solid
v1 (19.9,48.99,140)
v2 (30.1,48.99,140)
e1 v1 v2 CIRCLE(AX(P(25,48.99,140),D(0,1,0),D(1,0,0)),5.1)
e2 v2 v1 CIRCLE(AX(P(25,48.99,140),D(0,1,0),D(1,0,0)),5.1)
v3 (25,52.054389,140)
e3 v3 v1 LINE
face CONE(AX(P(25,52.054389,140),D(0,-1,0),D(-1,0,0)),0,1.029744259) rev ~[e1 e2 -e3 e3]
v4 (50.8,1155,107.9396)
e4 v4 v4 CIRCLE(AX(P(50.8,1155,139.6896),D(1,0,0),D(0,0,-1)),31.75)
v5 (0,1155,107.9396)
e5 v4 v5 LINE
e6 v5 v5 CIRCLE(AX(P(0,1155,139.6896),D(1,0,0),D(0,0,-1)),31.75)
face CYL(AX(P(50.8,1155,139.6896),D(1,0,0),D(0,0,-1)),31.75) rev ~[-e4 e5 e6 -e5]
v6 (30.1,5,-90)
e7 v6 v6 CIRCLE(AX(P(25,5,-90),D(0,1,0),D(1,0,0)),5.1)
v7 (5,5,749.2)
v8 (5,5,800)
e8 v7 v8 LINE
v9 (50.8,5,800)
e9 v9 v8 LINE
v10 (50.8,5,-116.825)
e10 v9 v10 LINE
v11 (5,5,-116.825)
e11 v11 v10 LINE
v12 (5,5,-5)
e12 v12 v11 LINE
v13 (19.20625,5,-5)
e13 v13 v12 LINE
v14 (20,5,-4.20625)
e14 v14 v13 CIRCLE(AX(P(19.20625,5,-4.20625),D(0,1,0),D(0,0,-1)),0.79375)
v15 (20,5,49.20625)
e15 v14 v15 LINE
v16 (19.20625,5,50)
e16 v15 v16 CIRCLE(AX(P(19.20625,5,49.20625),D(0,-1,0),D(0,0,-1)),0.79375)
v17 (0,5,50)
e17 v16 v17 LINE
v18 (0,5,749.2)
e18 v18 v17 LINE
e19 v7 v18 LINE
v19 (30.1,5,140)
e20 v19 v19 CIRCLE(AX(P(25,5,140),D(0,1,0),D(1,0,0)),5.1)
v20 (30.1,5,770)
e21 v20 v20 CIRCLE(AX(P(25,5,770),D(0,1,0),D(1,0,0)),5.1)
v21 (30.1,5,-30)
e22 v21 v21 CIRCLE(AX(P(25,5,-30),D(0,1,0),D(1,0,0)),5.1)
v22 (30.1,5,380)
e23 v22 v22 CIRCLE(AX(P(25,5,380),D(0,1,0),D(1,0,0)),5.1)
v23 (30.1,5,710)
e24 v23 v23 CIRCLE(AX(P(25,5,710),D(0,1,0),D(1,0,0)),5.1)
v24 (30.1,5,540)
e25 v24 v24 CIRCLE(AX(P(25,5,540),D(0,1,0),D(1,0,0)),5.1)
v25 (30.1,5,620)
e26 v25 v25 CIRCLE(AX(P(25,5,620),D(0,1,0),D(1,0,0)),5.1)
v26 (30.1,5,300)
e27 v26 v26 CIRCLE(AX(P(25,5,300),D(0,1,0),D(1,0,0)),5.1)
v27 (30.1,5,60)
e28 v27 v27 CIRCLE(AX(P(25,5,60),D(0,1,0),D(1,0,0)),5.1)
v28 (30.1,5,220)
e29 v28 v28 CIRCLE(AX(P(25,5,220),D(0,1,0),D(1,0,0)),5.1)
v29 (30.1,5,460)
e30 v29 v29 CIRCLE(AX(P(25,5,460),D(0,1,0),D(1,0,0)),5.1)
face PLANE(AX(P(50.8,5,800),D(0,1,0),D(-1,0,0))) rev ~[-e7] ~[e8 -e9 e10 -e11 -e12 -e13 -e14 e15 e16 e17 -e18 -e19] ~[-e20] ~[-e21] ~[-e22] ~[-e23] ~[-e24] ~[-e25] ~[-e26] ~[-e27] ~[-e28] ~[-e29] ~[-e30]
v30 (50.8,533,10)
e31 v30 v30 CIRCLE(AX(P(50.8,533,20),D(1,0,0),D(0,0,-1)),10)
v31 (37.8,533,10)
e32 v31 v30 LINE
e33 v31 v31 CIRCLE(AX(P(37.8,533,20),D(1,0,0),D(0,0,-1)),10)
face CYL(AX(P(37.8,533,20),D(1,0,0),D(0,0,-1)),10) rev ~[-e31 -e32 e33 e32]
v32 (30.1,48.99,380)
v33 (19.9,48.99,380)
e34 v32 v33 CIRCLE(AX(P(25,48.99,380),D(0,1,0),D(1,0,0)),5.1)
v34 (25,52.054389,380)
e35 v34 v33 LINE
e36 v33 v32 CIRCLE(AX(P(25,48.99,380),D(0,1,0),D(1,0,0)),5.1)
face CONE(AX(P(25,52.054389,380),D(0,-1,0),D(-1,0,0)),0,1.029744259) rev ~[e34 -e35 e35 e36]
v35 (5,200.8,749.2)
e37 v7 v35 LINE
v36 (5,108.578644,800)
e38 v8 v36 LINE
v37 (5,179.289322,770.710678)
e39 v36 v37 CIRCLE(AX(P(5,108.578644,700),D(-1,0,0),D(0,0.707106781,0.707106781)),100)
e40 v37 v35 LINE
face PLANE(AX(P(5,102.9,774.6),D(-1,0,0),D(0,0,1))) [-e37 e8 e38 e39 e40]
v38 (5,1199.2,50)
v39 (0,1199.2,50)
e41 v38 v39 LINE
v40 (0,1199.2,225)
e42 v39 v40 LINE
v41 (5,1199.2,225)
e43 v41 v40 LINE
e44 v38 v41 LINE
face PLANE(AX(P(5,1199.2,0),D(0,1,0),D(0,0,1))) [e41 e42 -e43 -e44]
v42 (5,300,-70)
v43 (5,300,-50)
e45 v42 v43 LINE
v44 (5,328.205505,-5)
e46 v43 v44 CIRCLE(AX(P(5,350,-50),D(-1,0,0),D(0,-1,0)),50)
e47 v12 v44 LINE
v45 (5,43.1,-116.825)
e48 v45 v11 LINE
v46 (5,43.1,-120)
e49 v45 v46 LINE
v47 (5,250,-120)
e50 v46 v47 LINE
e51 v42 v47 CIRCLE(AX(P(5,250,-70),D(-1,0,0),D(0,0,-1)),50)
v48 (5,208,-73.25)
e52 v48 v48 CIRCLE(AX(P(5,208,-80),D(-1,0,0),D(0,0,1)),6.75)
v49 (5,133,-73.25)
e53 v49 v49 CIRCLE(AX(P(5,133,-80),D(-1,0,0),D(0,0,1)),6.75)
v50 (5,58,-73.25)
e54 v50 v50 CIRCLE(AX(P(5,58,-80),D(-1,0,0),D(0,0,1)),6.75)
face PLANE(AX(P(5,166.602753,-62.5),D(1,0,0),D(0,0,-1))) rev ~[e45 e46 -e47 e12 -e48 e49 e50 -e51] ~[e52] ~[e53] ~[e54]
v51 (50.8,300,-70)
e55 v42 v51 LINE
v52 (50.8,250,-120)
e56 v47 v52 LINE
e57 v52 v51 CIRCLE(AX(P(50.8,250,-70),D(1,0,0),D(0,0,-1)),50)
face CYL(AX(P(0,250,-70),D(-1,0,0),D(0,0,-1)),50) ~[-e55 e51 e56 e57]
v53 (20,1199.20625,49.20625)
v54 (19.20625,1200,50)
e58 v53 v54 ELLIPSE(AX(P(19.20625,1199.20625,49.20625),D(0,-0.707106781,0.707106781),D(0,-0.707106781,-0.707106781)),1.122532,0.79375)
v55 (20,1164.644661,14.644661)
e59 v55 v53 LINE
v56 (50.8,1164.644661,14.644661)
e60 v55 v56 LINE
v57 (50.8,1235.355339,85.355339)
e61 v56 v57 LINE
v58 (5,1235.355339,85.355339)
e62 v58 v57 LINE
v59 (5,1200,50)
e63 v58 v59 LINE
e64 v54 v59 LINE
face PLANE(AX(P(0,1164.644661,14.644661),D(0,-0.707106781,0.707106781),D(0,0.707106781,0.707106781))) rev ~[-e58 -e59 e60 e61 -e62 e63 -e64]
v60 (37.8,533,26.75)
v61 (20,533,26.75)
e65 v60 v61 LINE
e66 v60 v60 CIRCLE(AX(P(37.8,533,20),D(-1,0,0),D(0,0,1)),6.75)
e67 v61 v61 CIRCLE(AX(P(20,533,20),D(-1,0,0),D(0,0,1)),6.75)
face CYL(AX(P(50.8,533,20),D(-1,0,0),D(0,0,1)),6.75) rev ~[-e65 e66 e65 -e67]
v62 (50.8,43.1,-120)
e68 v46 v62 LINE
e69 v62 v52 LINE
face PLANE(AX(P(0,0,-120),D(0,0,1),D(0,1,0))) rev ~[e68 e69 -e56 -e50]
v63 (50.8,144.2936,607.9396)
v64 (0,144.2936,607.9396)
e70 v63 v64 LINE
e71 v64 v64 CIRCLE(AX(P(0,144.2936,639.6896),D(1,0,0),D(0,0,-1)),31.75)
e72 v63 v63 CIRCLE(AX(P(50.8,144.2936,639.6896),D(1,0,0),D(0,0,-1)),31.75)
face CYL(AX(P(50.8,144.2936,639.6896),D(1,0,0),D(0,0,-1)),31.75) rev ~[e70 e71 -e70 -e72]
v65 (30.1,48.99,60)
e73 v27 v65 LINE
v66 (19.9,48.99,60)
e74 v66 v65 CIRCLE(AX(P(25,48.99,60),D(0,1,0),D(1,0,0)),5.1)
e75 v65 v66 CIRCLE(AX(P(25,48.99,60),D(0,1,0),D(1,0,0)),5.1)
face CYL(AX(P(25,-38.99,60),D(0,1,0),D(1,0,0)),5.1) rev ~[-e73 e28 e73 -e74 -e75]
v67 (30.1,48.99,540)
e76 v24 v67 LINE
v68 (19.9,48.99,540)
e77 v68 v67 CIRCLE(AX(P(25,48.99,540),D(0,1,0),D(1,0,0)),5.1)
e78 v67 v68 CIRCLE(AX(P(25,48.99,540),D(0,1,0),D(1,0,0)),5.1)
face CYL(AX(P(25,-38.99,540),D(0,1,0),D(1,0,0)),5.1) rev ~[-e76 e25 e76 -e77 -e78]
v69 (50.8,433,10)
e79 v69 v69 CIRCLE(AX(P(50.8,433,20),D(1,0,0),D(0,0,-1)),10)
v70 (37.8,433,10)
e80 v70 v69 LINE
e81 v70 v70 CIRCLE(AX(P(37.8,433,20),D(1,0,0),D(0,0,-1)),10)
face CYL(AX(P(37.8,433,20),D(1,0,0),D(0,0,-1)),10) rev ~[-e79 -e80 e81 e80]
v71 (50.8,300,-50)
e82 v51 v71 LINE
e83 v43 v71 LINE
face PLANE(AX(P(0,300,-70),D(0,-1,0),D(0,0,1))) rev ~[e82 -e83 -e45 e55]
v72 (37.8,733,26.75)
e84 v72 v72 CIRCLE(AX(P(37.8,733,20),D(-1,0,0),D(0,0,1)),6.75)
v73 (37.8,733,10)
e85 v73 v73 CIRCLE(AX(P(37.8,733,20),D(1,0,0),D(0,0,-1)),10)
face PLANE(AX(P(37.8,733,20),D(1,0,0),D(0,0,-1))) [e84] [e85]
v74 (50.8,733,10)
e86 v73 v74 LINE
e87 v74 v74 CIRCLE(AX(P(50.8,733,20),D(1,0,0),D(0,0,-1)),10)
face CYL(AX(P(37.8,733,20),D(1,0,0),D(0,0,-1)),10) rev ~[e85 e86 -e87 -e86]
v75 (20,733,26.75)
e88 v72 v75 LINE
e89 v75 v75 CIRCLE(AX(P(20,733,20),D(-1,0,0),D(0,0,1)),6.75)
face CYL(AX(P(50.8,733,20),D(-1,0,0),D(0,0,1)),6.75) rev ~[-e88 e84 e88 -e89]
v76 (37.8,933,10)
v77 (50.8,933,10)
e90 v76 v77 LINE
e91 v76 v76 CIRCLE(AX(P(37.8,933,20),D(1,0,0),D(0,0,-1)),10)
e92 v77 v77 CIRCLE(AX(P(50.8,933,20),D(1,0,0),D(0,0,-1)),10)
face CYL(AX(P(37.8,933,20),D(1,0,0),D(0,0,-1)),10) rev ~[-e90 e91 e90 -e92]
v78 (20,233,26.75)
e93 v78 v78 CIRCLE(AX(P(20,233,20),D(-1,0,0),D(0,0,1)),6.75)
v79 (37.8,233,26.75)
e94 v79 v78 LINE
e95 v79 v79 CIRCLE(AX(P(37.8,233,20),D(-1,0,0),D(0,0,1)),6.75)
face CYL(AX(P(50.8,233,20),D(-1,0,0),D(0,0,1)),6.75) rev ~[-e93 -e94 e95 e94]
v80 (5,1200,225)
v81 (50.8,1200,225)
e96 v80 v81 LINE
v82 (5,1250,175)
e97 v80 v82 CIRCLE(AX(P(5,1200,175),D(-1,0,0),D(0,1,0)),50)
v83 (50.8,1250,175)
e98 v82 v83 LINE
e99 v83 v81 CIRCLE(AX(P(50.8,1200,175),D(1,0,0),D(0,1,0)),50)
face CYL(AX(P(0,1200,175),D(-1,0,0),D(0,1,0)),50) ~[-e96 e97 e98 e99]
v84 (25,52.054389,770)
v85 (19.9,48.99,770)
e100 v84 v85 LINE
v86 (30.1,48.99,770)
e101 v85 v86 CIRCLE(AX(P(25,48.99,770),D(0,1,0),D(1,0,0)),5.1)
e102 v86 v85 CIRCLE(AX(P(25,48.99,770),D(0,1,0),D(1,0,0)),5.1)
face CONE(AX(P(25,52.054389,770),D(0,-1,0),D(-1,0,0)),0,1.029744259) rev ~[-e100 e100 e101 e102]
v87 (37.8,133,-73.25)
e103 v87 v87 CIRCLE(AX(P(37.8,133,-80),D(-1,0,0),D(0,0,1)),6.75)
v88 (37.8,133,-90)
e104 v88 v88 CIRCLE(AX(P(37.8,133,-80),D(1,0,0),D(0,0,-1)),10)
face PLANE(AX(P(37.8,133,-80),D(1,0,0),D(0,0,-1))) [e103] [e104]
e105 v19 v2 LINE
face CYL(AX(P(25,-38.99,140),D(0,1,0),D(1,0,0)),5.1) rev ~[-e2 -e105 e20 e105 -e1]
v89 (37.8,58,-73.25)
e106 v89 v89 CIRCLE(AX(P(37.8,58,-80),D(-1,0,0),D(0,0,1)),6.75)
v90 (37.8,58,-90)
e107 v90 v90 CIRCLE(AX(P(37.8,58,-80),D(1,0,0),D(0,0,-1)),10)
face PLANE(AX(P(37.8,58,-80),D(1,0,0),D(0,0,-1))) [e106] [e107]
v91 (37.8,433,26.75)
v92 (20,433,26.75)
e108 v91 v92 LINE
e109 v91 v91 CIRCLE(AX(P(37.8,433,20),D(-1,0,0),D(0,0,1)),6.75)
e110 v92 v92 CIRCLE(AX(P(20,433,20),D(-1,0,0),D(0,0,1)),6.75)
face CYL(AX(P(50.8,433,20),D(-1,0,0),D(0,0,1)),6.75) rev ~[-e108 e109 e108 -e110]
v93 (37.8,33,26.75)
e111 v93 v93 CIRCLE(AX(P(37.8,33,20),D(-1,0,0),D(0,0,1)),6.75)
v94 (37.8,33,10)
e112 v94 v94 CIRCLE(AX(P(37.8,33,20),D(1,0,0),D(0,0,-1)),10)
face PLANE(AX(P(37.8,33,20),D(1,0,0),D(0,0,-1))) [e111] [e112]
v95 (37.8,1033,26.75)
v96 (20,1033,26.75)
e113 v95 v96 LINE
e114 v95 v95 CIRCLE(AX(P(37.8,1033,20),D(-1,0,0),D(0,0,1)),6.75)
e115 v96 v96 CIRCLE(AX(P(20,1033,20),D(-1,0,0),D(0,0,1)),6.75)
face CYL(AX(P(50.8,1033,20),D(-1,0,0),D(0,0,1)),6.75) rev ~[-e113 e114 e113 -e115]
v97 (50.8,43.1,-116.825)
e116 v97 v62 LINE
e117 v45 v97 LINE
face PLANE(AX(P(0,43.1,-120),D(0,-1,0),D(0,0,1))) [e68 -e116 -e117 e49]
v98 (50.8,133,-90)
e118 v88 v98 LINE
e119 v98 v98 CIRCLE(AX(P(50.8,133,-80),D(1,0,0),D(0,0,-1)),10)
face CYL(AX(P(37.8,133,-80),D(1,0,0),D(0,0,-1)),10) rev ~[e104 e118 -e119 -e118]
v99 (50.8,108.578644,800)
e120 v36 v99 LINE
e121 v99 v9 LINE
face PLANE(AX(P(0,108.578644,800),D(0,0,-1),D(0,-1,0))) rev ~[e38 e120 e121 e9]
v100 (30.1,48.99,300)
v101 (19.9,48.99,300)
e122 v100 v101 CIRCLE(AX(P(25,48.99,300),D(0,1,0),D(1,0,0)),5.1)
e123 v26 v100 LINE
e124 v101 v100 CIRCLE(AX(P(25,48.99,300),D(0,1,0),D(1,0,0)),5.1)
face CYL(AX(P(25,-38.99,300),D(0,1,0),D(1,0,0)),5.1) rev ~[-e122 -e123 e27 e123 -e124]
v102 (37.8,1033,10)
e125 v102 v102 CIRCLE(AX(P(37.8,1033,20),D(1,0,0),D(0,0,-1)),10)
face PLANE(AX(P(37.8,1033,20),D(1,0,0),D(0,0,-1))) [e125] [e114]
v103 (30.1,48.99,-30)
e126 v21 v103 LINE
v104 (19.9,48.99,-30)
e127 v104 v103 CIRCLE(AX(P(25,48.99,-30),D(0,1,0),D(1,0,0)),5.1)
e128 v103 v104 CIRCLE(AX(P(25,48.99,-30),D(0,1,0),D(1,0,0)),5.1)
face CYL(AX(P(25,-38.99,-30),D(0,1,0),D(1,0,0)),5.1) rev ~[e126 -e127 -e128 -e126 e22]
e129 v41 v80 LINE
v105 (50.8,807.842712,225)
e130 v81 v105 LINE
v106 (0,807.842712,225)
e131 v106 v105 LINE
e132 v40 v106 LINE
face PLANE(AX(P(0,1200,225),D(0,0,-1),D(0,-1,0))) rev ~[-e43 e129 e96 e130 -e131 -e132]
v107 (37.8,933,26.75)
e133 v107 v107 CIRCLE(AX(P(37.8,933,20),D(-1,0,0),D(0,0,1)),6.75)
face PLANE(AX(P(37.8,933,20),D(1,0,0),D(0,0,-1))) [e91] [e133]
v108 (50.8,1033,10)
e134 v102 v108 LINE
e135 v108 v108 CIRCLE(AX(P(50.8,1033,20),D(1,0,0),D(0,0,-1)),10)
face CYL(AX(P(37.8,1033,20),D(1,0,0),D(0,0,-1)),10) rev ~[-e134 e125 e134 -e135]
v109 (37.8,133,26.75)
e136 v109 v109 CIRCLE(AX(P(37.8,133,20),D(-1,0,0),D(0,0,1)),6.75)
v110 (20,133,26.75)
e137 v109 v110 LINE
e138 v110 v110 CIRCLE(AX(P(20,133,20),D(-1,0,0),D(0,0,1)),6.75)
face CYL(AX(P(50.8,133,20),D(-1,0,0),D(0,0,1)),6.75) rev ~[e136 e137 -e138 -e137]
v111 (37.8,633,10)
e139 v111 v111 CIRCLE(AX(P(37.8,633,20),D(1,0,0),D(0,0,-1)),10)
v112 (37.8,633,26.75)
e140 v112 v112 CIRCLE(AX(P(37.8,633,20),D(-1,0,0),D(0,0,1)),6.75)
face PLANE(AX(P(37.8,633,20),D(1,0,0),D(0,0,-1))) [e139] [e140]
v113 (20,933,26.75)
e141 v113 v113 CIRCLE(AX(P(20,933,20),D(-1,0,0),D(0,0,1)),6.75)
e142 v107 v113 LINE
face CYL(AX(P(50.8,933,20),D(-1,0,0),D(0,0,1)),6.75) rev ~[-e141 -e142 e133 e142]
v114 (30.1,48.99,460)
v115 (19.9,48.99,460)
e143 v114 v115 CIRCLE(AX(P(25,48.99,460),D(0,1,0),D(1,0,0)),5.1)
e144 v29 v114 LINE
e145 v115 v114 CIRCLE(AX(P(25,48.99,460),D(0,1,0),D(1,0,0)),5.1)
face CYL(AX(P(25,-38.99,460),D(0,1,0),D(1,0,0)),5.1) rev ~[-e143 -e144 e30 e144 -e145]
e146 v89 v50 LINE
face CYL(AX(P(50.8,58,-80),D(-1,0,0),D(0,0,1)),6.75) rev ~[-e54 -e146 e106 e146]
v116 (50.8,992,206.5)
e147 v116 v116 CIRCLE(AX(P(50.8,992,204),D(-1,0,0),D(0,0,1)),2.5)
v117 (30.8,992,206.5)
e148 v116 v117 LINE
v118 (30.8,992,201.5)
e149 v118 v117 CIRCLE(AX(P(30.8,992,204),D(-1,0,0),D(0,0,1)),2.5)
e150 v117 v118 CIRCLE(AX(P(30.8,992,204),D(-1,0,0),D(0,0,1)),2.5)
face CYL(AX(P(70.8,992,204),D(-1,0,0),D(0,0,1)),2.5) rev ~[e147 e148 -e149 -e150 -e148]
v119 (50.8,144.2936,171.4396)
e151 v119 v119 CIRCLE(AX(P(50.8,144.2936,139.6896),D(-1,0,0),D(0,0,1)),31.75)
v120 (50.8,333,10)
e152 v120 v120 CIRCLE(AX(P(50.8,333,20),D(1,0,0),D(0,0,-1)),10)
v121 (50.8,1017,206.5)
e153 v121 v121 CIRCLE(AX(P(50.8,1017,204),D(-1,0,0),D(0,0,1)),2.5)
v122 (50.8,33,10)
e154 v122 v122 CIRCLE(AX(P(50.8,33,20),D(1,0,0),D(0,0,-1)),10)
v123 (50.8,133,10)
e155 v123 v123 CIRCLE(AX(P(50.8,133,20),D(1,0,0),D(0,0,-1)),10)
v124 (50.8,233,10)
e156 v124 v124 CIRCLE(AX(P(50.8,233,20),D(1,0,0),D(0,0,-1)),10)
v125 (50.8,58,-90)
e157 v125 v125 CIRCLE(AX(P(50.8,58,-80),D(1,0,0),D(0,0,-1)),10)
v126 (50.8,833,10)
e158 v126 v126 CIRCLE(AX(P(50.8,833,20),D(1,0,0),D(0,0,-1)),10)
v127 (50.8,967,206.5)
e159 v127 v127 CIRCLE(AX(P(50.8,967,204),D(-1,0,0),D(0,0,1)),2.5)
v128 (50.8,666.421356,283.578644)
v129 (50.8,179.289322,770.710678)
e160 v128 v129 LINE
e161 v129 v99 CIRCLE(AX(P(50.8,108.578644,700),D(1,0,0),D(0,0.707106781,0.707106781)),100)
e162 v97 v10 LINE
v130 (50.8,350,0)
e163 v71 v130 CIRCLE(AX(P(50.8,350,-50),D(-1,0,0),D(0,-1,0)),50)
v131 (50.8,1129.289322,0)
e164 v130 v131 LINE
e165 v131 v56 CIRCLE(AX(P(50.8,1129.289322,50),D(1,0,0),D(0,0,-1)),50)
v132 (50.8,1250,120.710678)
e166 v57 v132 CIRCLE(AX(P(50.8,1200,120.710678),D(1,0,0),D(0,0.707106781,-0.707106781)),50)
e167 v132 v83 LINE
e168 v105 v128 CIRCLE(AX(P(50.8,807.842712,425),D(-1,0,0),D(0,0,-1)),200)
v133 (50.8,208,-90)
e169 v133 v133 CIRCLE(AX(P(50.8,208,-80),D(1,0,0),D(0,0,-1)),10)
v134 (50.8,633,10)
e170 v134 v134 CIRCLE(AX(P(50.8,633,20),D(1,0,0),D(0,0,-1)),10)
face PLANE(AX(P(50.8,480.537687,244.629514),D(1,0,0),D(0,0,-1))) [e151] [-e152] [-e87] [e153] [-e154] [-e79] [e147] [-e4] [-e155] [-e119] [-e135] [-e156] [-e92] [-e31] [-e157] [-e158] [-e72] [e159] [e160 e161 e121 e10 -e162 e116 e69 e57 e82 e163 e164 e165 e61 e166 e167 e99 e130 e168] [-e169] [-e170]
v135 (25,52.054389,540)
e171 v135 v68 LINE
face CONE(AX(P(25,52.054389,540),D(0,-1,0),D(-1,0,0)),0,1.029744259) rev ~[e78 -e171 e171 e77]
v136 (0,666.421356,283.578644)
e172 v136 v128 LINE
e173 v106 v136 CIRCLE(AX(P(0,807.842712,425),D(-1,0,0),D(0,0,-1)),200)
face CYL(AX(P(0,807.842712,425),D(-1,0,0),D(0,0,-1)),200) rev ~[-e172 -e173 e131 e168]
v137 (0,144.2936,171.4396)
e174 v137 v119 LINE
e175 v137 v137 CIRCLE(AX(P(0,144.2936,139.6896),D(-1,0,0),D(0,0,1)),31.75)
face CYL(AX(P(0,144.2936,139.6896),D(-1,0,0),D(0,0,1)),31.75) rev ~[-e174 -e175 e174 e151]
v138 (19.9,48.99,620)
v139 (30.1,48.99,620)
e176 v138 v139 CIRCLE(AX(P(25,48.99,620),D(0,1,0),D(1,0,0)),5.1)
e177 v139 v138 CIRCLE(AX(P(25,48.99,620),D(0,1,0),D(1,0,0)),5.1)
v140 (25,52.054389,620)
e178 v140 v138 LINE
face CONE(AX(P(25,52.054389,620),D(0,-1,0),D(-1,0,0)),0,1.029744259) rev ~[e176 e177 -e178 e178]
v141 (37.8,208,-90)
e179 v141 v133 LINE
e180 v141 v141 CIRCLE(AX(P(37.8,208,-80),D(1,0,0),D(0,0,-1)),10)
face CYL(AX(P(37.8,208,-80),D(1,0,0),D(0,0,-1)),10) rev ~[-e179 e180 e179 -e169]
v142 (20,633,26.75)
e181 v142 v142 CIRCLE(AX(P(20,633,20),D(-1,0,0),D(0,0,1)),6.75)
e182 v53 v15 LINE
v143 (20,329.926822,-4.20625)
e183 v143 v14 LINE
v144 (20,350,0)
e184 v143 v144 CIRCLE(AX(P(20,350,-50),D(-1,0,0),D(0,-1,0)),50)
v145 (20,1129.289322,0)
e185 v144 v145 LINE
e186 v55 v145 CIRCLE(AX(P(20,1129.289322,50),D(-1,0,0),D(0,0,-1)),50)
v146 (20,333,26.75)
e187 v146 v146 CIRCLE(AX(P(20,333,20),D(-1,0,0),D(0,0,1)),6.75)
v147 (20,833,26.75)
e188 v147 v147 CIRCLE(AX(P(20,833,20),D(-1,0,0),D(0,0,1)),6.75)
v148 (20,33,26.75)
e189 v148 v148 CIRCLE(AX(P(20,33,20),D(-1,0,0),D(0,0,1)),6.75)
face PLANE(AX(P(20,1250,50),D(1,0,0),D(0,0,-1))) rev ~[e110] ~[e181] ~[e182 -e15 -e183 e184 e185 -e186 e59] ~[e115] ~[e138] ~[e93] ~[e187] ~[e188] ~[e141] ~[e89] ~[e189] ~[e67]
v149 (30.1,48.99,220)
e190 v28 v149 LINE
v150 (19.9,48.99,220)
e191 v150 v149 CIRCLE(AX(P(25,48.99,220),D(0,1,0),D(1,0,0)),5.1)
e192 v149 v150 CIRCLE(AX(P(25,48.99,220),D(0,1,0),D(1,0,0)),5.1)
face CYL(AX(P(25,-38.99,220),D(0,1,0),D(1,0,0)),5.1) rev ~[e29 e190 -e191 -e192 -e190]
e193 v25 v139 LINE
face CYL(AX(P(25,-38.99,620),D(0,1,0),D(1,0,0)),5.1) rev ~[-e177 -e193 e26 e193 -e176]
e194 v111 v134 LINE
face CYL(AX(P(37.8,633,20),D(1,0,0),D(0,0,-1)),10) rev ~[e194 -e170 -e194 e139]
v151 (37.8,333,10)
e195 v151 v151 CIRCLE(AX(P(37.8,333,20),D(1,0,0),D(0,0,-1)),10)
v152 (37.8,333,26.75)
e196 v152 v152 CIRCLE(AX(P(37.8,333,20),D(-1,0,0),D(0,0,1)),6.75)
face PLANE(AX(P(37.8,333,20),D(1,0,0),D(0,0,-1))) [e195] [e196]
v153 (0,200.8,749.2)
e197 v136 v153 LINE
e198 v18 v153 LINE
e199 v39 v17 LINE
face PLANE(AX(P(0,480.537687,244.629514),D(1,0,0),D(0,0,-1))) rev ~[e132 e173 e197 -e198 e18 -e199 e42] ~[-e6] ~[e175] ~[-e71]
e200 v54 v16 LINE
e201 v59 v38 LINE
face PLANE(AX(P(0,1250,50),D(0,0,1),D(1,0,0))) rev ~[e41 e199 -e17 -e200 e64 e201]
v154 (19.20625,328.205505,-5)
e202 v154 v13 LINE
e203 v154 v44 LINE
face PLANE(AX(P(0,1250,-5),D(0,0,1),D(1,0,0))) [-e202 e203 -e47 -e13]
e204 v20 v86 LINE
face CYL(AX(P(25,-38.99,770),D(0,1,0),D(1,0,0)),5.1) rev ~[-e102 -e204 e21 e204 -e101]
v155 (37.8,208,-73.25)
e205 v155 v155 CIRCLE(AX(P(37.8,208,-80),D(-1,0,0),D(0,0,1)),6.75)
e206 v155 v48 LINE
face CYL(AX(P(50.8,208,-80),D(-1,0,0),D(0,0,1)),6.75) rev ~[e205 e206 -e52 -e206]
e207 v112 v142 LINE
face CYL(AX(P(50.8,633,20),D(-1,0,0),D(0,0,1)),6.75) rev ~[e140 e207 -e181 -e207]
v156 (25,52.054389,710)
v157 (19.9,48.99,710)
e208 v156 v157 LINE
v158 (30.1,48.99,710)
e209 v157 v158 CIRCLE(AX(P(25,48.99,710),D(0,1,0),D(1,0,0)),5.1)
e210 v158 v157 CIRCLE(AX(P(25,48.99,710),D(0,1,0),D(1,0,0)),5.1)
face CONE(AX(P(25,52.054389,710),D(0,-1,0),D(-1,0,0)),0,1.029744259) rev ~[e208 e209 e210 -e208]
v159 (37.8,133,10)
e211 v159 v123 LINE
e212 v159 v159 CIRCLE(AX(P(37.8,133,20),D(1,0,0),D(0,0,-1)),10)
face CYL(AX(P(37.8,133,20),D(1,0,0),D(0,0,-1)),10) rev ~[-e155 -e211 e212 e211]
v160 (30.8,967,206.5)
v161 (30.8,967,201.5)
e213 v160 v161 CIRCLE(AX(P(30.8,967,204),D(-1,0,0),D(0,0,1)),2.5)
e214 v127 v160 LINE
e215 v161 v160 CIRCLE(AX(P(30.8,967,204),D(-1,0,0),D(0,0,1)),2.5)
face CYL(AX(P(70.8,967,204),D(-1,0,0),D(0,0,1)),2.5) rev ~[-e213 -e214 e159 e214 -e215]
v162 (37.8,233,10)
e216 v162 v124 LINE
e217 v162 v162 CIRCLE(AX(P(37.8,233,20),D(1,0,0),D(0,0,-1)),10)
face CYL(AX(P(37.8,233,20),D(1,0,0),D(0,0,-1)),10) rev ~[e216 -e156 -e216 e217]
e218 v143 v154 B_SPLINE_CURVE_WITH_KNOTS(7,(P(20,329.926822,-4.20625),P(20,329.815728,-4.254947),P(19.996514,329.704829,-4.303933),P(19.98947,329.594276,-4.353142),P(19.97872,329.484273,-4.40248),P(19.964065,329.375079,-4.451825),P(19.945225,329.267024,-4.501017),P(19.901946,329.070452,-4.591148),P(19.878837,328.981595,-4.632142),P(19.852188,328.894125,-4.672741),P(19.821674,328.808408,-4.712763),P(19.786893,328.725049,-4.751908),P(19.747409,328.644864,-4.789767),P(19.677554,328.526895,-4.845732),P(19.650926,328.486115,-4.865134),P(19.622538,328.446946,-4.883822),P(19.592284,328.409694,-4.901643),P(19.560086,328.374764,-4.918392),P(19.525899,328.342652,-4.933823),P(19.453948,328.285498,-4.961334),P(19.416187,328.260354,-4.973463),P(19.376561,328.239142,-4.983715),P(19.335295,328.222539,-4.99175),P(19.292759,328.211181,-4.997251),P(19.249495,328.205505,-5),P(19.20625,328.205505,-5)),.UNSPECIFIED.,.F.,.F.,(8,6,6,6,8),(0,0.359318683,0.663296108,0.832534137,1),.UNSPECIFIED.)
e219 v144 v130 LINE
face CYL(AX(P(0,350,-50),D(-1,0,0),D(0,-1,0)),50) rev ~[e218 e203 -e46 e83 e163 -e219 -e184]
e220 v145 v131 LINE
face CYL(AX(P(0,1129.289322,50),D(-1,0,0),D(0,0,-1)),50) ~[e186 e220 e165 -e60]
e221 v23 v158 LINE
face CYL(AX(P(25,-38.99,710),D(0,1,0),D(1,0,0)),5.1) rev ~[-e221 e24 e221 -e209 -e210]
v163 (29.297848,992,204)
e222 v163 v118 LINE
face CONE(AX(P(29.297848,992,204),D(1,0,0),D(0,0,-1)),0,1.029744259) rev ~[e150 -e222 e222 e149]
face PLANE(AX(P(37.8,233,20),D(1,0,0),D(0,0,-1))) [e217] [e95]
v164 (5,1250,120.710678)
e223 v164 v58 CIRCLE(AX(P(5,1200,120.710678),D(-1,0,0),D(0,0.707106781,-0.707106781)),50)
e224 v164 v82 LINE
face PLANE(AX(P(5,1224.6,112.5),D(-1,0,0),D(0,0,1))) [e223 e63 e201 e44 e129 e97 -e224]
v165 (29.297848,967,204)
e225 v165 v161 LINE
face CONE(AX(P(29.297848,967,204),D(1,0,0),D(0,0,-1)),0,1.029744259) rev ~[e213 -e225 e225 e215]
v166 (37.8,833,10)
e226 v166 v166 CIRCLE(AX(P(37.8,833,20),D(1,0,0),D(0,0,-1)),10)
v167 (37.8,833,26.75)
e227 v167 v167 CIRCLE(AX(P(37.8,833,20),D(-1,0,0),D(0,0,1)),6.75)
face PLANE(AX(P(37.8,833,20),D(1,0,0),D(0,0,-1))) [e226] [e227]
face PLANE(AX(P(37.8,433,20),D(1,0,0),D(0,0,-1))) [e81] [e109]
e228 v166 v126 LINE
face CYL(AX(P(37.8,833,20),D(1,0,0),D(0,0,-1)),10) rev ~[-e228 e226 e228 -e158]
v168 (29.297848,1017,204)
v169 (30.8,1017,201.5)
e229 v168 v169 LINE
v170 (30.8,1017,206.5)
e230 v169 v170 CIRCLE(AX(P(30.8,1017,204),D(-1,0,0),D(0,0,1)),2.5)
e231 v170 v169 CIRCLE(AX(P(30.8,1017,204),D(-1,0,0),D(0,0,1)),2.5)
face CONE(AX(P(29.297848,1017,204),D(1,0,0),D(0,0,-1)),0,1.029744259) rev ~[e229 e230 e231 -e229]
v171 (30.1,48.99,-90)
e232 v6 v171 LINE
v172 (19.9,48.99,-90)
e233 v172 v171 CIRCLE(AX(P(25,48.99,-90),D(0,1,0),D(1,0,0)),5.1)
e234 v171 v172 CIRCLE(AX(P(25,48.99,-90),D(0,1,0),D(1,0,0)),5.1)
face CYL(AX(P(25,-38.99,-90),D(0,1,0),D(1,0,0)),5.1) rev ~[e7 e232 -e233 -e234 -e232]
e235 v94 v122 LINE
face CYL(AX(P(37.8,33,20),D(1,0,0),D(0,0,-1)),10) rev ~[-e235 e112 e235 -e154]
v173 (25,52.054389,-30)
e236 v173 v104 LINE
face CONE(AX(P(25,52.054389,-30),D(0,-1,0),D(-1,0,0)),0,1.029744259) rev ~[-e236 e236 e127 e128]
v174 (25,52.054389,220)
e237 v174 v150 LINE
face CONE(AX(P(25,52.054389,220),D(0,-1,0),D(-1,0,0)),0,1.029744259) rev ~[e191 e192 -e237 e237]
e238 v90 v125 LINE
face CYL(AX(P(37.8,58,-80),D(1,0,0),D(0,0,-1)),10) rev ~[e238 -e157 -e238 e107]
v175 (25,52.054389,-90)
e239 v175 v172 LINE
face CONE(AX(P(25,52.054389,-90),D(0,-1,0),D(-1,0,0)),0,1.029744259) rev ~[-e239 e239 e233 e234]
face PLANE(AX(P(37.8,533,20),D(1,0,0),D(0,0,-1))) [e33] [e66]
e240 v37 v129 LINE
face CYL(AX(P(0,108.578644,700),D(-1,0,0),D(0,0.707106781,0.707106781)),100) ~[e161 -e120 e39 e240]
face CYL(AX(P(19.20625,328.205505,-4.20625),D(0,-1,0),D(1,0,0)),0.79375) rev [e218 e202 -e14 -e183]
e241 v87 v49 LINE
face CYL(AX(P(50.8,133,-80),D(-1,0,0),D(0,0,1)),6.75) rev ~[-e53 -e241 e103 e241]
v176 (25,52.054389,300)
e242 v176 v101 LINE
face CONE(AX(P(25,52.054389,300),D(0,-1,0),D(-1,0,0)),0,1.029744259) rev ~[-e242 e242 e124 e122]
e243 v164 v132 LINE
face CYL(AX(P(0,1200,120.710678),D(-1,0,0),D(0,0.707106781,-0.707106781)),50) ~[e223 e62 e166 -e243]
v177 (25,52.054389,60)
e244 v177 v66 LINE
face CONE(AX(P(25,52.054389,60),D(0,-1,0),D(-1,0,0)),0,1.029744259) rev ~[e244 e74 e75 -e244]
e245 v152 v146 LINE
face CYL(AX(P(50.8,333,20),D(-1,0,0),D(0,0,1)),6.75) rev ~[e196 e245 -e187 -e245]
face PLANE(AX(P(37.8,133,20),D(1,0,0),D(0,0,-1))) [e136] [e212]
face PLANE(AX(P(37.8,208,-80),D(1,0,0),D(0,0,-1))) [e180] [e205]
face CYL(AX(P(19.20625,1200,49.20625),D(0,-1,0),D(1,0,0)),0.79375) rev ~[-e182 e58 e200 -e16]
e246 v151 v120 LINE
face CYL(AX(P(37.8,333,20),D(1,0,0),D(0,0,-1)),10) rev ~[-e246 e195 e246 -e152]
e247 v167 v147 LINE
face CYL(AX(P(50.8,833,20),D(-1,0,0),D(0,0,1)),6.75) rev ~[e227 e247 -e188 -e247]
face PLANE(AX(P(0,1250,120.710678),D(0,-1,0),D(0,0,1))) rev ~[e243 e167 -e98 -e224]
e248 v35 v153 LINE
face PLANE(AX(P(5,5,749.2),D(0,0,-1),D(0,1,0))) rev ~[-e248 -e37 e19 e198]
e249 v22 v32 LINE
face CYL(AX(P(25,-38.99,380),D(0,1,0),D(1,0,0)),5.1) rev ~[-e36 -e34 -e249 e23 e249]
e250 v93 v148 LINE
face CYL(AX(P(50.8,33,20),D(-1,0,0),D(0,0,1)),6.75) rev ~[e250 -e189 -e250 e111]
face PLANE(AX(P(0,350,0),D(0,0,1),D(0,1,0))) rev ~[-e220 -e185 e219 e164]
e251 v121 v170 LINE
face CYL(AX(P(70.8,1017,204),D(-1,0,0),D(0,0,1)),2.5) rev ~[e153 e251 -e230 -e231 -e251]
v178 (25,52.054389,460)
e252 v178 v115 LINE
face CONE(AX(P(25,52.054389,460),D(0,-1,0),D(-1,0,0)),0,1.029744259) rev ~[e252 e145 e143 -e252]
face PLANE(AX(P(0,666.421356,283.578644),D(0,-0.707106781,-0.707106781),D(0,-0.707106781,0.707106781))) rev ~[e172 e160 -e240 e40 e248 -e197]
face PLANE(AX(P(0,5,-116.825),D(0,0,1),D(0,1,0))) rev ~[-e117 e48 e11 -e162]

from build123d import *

# Parameters (mm, degrees)
BOSS_EXTRUDE1_DEPTH                                  = 50.8
SKETCH2_W                                            = 20
SKETCH2_H                                            = 55
CUT_EXTRUDE1_DEPTH                                   = 1485.951393144
SKETCH3_W                                            = 50.8
SKETCH3_H                                            = 5
CUT_EXTRUDE2_DEPTH                                   = 1553.894278436
SKETCH5_W                                            = 115
SKETCH5_H                                            = 323.205505282
CUT_EXTRUDE5_DEPTH                                   = 5
M6_TAPPED_HOLE1_D                                    = 5
M6_TAPPED_HOLE1_DEPTH                                = 20
M6_TAPPED_HOLE1_TIP                                  = 1.502151548
CBORE_FOR_M12_HEX_SOCKET_HEAD_CAP_SCREW1_D           = 13.5
CBORE_FOR_M12_HEX_SOCKET_HEAD_CAP_SCREW1_CBORE_D     = 20
CBORE_FOR_M12_HEX_SOCKET_HEAD_CAP_SCREW1_CBORE_DEPTH = 13
M12_TAPPED_HOLE1_D                                   = 10.2
M12_TAPPED_HOLE1_DEPTH                               = 43.99
M12_TAPPED_HOLE1_TIP                                 = 3.064389157
FILLET1_R                                            = 0.79375
SKETCH14_W                                           = 225
SKETCH14_H                                           = 50.8
SKETCH14_W_2                                         = 50.8
SKETCH14_H_2                                         = 195.8
CUT_EXTRUDE6_DEPTH                                   = 1485.788752654
SKETCH15_R                                           = 31.75
SKETCH15_W                                           = 3.175
SKETCH15_H                                           = 38.1
CUT_EXTRUDE7_DEPTH                                   = 1485.951393147
SKETCH16_R                                           = 31.75
CUT_EXTRUDE8_DEPTH                                   = 1485.951393144


with BuildPart() as part:
    # Sketch1 → Boss-Extrude1 (new body)
    with BuildSketch(Plane(origin=(0, 0, 0), x_dir=(0, 0, -1), z_dir=(1, 0, 0))):
        with BuildLine():
            Line((0, 350), (0, 1129.289321881))
            ThreePointArc((0, 1129.289321881), (-3.806023374, 1148.4234935), (-14.644660941, 1164.644660941))
            Line((-14.644660941, 1164.644660941), (-85.355339059, 1235.355339059))
            ThreePointArc((-85.355339059, 1235.355339059), (-101.5765065, 1246.193976626), (-120.710678119, 1250))
            Line((-120.710678119, 1250), (-175, 1250))
            ThreePointArc((-175, 1250), (-210.355339059, 1235.355339059), (-225, 1200))
            Line((-225, 1200), (-225, 807.842712475))
            ThreePointArc((-225, 807.842712475), (-240.224093498, 731.306026002), (-283.578643763, 666.421356237))
            Line((-283.578643763, 666.421356237), (-770.710678119, 179.289321881))
            ThreePointArc((-770.710678119, 179.289321881), (-792.387953251, 146.846986999), (-800, 108.578643763))
            Line((-800, 108.578643763), (-800, 0))
            Line((-800, 0), (0, 0))
            Line((0, 0), (120, 0))
            Line((120, 0), (120, 250))
            ThreePointArc((120, 250), (105.355339059, 285.355339059), (70, 300))
            Line((70, 300), (50, 300))
            ThreePointArc((50, 300), (14.644660941, 314.644660941), (0, 350))
        make_face()
    extrude(amount=BOSS_EXTRUDE1_DEPTH)

    # Sketch2 → Cut-Extrude1 (cut, through all)
    with BuildSketch(Plane(origin=(0, 1250, 0), x_dir=(1, 0, 0), z_dir=(0, 1, 0))):
        with Locations((10, -22.5)):
            Rectangle(SKETCH2_W, SKETCH2_H)
    extrude(amount=-CUT_EXTRUDE1_DEPTH, mode=Mode.SUBTRACT)

    # Sketch3 → Cut-Extrude2 (cut, through all)
    with BuildSketch(Plane(origin=(0, 0, 800), x_dir=(-1, 0, 0), z_dir=(0, 0, -1))):
        with Locations((-25.4, 2.5)):
            Rectangle(SKETCH3_W, SKETCH3_H)
    extrude(amount=CUT_EXTRUDE2_DEPTH, mode=Mode.SUBTRACT)

    # Sketch5 → Cut-Extrude5 (cut)
    with BuildSketch(Plane(origin=(0, 0, 0), x_dir=(0, 0, -1), z_dir=(1, 0, 0))):
        with Locations((62.5, 166.602752641)):
            Rectangle(SKETCH5_W, SKETCH5_H)
    extrude(amount=CUT_EXTRUDE5_DEPTH, mode=Mode.SUBTRACT)

    # M6 Tapped Hole1
    with Locations(Plane(origin=(50.8, 0, 0), x_dir=(0, 0, -1), z_dir=(1, 0, 0))):
        with Locations((-204, 1017), (-204, 967), (-204, 992)):
            Hole(M6_TAPPED_HOLE1_D / 2, depth=M6_TAPPED_HOLE1_DEPTH)
            with Locations((0, 0, -(M6_TAPPED_HOLE1_DEPTH + M6_TAPPED_HOLE1_TIP / 2))):  # 118° drill point
                Cone(0, M6_TAPPED_HOLE1_D / 2, M6_TAPPED_HOLE1_TIP, mode=Mode.SUBTRACT)

    # CBORE for M12 Hex Socket Head Cap Screw1 (through all)
    with Locations(Plane(origin=(50.8, 0, 0), x_dir=(0, 0, -1), z_dir=(1, 0, 0))):
        with Locations((-20, 33), (-20, 133), (-20, 233), (-20, 333), (-20, 433), (-20, 533), (-20, 633), (-20, 733), (-20, 833), (-20, 933), (-20, 1033), (80, 58), (80, 133), (80, 208)):
            CounterBoreHole(CBORE_FOR_M12_HEX_SOCKET_HEAD_CAP_SCREW1_D / 2, CBORE_FOR_M12_HEX_SOCKET_HEAD_CAP_SCREW1_CBORE_D / 2, CBORE_FOR_M12_HEX_SOCKET_HEAD_CAP_SCREW1_CBORE_DEPTH)

    # M12 Tapped Hole1
    with Locations(Plane(origin=(0, 5, 0), x_dir=(-1, 0, 0), z_dir=(0, -1, 0))):
        with Locations((-25, -770), (-25, 90), (-25, 30), (-25, -60), (-25, -140), (-25, -220), (-25, -300), (-25, -380), (-25, -460), (-25, -540), (-25, -620), (-25, -710)):
            Hole(M12_TAPPED_HOLE1_D / 2, depth=M12_TAPPED_HOLE1_DEPTH)
            with Locations((0, 0, -(M12_TAPPED_HOLE1_DEPTH + M12_TAPPED_HOLE1_TIP / 2))):  # 118° drill point
                Cone(0, M12_TAPPED_HOLE1_D / 2, M12_TAPPED_HOLE1_TIP, mode=Mode.SUBTRACT)

    # Fillet1
    fillet1_edges = [part.edges().sort_by_distance(p)[0] for p in [
        (20, 602.5, 50),
        (20, 166.602752641, -5),
    ]]
    fillet(fillet1_edges, radius=FILLET1_R)

    # Sketch14 → Cut-Extrude6 (cut, through all)
    with BuildSketch(Plane.ZY.offset(-5)):
        with Locations((112.5, 1224.6)):
            Rectangle(SKETCH14_W, SKETCH14_H)
        with Locations((774.6, 102.9)):
            Rectangle(SKETCH14_W_2, SKETCH14_H_2)
    extrude(amount=CUT_EXTRUDE6_DEPTH, mode=Mode.SUBTRACT)

    # Sketch15 → Cut-Extrude7 (cut, through all)
    with BuildSketch(Plane.ZY):
        with Locations((139.6896, 144.2936)):
            Circle(SKETCH15_R)
        with Locations((-118.4125, 24.05)):
            Rectangle(SKETCH15_W, SKETCH15_H)
    extrude(amount=-CUT_EXTRUDE7_DEPTH, mode=Mode.SUBTRACT)

    # Sketch16 → Cut-Extrude8 (cut, through all)
    with BuildSketch(Plane(origin=(50.8, 0, 0), x_dir=(0, 0, -1), z_dir=(1, 0, 0))):
        with Locations((-139.6896, 1155)):
            Circle(SKETCH16_R)
        with Locations((-639.6896, 144.2936)):
            Circle(SKETCH16_R)
    extrude(amount=-CUT_EXTRUDE8_DEPTH, mode=Mode.SUBTRACT)


solid = part.part
